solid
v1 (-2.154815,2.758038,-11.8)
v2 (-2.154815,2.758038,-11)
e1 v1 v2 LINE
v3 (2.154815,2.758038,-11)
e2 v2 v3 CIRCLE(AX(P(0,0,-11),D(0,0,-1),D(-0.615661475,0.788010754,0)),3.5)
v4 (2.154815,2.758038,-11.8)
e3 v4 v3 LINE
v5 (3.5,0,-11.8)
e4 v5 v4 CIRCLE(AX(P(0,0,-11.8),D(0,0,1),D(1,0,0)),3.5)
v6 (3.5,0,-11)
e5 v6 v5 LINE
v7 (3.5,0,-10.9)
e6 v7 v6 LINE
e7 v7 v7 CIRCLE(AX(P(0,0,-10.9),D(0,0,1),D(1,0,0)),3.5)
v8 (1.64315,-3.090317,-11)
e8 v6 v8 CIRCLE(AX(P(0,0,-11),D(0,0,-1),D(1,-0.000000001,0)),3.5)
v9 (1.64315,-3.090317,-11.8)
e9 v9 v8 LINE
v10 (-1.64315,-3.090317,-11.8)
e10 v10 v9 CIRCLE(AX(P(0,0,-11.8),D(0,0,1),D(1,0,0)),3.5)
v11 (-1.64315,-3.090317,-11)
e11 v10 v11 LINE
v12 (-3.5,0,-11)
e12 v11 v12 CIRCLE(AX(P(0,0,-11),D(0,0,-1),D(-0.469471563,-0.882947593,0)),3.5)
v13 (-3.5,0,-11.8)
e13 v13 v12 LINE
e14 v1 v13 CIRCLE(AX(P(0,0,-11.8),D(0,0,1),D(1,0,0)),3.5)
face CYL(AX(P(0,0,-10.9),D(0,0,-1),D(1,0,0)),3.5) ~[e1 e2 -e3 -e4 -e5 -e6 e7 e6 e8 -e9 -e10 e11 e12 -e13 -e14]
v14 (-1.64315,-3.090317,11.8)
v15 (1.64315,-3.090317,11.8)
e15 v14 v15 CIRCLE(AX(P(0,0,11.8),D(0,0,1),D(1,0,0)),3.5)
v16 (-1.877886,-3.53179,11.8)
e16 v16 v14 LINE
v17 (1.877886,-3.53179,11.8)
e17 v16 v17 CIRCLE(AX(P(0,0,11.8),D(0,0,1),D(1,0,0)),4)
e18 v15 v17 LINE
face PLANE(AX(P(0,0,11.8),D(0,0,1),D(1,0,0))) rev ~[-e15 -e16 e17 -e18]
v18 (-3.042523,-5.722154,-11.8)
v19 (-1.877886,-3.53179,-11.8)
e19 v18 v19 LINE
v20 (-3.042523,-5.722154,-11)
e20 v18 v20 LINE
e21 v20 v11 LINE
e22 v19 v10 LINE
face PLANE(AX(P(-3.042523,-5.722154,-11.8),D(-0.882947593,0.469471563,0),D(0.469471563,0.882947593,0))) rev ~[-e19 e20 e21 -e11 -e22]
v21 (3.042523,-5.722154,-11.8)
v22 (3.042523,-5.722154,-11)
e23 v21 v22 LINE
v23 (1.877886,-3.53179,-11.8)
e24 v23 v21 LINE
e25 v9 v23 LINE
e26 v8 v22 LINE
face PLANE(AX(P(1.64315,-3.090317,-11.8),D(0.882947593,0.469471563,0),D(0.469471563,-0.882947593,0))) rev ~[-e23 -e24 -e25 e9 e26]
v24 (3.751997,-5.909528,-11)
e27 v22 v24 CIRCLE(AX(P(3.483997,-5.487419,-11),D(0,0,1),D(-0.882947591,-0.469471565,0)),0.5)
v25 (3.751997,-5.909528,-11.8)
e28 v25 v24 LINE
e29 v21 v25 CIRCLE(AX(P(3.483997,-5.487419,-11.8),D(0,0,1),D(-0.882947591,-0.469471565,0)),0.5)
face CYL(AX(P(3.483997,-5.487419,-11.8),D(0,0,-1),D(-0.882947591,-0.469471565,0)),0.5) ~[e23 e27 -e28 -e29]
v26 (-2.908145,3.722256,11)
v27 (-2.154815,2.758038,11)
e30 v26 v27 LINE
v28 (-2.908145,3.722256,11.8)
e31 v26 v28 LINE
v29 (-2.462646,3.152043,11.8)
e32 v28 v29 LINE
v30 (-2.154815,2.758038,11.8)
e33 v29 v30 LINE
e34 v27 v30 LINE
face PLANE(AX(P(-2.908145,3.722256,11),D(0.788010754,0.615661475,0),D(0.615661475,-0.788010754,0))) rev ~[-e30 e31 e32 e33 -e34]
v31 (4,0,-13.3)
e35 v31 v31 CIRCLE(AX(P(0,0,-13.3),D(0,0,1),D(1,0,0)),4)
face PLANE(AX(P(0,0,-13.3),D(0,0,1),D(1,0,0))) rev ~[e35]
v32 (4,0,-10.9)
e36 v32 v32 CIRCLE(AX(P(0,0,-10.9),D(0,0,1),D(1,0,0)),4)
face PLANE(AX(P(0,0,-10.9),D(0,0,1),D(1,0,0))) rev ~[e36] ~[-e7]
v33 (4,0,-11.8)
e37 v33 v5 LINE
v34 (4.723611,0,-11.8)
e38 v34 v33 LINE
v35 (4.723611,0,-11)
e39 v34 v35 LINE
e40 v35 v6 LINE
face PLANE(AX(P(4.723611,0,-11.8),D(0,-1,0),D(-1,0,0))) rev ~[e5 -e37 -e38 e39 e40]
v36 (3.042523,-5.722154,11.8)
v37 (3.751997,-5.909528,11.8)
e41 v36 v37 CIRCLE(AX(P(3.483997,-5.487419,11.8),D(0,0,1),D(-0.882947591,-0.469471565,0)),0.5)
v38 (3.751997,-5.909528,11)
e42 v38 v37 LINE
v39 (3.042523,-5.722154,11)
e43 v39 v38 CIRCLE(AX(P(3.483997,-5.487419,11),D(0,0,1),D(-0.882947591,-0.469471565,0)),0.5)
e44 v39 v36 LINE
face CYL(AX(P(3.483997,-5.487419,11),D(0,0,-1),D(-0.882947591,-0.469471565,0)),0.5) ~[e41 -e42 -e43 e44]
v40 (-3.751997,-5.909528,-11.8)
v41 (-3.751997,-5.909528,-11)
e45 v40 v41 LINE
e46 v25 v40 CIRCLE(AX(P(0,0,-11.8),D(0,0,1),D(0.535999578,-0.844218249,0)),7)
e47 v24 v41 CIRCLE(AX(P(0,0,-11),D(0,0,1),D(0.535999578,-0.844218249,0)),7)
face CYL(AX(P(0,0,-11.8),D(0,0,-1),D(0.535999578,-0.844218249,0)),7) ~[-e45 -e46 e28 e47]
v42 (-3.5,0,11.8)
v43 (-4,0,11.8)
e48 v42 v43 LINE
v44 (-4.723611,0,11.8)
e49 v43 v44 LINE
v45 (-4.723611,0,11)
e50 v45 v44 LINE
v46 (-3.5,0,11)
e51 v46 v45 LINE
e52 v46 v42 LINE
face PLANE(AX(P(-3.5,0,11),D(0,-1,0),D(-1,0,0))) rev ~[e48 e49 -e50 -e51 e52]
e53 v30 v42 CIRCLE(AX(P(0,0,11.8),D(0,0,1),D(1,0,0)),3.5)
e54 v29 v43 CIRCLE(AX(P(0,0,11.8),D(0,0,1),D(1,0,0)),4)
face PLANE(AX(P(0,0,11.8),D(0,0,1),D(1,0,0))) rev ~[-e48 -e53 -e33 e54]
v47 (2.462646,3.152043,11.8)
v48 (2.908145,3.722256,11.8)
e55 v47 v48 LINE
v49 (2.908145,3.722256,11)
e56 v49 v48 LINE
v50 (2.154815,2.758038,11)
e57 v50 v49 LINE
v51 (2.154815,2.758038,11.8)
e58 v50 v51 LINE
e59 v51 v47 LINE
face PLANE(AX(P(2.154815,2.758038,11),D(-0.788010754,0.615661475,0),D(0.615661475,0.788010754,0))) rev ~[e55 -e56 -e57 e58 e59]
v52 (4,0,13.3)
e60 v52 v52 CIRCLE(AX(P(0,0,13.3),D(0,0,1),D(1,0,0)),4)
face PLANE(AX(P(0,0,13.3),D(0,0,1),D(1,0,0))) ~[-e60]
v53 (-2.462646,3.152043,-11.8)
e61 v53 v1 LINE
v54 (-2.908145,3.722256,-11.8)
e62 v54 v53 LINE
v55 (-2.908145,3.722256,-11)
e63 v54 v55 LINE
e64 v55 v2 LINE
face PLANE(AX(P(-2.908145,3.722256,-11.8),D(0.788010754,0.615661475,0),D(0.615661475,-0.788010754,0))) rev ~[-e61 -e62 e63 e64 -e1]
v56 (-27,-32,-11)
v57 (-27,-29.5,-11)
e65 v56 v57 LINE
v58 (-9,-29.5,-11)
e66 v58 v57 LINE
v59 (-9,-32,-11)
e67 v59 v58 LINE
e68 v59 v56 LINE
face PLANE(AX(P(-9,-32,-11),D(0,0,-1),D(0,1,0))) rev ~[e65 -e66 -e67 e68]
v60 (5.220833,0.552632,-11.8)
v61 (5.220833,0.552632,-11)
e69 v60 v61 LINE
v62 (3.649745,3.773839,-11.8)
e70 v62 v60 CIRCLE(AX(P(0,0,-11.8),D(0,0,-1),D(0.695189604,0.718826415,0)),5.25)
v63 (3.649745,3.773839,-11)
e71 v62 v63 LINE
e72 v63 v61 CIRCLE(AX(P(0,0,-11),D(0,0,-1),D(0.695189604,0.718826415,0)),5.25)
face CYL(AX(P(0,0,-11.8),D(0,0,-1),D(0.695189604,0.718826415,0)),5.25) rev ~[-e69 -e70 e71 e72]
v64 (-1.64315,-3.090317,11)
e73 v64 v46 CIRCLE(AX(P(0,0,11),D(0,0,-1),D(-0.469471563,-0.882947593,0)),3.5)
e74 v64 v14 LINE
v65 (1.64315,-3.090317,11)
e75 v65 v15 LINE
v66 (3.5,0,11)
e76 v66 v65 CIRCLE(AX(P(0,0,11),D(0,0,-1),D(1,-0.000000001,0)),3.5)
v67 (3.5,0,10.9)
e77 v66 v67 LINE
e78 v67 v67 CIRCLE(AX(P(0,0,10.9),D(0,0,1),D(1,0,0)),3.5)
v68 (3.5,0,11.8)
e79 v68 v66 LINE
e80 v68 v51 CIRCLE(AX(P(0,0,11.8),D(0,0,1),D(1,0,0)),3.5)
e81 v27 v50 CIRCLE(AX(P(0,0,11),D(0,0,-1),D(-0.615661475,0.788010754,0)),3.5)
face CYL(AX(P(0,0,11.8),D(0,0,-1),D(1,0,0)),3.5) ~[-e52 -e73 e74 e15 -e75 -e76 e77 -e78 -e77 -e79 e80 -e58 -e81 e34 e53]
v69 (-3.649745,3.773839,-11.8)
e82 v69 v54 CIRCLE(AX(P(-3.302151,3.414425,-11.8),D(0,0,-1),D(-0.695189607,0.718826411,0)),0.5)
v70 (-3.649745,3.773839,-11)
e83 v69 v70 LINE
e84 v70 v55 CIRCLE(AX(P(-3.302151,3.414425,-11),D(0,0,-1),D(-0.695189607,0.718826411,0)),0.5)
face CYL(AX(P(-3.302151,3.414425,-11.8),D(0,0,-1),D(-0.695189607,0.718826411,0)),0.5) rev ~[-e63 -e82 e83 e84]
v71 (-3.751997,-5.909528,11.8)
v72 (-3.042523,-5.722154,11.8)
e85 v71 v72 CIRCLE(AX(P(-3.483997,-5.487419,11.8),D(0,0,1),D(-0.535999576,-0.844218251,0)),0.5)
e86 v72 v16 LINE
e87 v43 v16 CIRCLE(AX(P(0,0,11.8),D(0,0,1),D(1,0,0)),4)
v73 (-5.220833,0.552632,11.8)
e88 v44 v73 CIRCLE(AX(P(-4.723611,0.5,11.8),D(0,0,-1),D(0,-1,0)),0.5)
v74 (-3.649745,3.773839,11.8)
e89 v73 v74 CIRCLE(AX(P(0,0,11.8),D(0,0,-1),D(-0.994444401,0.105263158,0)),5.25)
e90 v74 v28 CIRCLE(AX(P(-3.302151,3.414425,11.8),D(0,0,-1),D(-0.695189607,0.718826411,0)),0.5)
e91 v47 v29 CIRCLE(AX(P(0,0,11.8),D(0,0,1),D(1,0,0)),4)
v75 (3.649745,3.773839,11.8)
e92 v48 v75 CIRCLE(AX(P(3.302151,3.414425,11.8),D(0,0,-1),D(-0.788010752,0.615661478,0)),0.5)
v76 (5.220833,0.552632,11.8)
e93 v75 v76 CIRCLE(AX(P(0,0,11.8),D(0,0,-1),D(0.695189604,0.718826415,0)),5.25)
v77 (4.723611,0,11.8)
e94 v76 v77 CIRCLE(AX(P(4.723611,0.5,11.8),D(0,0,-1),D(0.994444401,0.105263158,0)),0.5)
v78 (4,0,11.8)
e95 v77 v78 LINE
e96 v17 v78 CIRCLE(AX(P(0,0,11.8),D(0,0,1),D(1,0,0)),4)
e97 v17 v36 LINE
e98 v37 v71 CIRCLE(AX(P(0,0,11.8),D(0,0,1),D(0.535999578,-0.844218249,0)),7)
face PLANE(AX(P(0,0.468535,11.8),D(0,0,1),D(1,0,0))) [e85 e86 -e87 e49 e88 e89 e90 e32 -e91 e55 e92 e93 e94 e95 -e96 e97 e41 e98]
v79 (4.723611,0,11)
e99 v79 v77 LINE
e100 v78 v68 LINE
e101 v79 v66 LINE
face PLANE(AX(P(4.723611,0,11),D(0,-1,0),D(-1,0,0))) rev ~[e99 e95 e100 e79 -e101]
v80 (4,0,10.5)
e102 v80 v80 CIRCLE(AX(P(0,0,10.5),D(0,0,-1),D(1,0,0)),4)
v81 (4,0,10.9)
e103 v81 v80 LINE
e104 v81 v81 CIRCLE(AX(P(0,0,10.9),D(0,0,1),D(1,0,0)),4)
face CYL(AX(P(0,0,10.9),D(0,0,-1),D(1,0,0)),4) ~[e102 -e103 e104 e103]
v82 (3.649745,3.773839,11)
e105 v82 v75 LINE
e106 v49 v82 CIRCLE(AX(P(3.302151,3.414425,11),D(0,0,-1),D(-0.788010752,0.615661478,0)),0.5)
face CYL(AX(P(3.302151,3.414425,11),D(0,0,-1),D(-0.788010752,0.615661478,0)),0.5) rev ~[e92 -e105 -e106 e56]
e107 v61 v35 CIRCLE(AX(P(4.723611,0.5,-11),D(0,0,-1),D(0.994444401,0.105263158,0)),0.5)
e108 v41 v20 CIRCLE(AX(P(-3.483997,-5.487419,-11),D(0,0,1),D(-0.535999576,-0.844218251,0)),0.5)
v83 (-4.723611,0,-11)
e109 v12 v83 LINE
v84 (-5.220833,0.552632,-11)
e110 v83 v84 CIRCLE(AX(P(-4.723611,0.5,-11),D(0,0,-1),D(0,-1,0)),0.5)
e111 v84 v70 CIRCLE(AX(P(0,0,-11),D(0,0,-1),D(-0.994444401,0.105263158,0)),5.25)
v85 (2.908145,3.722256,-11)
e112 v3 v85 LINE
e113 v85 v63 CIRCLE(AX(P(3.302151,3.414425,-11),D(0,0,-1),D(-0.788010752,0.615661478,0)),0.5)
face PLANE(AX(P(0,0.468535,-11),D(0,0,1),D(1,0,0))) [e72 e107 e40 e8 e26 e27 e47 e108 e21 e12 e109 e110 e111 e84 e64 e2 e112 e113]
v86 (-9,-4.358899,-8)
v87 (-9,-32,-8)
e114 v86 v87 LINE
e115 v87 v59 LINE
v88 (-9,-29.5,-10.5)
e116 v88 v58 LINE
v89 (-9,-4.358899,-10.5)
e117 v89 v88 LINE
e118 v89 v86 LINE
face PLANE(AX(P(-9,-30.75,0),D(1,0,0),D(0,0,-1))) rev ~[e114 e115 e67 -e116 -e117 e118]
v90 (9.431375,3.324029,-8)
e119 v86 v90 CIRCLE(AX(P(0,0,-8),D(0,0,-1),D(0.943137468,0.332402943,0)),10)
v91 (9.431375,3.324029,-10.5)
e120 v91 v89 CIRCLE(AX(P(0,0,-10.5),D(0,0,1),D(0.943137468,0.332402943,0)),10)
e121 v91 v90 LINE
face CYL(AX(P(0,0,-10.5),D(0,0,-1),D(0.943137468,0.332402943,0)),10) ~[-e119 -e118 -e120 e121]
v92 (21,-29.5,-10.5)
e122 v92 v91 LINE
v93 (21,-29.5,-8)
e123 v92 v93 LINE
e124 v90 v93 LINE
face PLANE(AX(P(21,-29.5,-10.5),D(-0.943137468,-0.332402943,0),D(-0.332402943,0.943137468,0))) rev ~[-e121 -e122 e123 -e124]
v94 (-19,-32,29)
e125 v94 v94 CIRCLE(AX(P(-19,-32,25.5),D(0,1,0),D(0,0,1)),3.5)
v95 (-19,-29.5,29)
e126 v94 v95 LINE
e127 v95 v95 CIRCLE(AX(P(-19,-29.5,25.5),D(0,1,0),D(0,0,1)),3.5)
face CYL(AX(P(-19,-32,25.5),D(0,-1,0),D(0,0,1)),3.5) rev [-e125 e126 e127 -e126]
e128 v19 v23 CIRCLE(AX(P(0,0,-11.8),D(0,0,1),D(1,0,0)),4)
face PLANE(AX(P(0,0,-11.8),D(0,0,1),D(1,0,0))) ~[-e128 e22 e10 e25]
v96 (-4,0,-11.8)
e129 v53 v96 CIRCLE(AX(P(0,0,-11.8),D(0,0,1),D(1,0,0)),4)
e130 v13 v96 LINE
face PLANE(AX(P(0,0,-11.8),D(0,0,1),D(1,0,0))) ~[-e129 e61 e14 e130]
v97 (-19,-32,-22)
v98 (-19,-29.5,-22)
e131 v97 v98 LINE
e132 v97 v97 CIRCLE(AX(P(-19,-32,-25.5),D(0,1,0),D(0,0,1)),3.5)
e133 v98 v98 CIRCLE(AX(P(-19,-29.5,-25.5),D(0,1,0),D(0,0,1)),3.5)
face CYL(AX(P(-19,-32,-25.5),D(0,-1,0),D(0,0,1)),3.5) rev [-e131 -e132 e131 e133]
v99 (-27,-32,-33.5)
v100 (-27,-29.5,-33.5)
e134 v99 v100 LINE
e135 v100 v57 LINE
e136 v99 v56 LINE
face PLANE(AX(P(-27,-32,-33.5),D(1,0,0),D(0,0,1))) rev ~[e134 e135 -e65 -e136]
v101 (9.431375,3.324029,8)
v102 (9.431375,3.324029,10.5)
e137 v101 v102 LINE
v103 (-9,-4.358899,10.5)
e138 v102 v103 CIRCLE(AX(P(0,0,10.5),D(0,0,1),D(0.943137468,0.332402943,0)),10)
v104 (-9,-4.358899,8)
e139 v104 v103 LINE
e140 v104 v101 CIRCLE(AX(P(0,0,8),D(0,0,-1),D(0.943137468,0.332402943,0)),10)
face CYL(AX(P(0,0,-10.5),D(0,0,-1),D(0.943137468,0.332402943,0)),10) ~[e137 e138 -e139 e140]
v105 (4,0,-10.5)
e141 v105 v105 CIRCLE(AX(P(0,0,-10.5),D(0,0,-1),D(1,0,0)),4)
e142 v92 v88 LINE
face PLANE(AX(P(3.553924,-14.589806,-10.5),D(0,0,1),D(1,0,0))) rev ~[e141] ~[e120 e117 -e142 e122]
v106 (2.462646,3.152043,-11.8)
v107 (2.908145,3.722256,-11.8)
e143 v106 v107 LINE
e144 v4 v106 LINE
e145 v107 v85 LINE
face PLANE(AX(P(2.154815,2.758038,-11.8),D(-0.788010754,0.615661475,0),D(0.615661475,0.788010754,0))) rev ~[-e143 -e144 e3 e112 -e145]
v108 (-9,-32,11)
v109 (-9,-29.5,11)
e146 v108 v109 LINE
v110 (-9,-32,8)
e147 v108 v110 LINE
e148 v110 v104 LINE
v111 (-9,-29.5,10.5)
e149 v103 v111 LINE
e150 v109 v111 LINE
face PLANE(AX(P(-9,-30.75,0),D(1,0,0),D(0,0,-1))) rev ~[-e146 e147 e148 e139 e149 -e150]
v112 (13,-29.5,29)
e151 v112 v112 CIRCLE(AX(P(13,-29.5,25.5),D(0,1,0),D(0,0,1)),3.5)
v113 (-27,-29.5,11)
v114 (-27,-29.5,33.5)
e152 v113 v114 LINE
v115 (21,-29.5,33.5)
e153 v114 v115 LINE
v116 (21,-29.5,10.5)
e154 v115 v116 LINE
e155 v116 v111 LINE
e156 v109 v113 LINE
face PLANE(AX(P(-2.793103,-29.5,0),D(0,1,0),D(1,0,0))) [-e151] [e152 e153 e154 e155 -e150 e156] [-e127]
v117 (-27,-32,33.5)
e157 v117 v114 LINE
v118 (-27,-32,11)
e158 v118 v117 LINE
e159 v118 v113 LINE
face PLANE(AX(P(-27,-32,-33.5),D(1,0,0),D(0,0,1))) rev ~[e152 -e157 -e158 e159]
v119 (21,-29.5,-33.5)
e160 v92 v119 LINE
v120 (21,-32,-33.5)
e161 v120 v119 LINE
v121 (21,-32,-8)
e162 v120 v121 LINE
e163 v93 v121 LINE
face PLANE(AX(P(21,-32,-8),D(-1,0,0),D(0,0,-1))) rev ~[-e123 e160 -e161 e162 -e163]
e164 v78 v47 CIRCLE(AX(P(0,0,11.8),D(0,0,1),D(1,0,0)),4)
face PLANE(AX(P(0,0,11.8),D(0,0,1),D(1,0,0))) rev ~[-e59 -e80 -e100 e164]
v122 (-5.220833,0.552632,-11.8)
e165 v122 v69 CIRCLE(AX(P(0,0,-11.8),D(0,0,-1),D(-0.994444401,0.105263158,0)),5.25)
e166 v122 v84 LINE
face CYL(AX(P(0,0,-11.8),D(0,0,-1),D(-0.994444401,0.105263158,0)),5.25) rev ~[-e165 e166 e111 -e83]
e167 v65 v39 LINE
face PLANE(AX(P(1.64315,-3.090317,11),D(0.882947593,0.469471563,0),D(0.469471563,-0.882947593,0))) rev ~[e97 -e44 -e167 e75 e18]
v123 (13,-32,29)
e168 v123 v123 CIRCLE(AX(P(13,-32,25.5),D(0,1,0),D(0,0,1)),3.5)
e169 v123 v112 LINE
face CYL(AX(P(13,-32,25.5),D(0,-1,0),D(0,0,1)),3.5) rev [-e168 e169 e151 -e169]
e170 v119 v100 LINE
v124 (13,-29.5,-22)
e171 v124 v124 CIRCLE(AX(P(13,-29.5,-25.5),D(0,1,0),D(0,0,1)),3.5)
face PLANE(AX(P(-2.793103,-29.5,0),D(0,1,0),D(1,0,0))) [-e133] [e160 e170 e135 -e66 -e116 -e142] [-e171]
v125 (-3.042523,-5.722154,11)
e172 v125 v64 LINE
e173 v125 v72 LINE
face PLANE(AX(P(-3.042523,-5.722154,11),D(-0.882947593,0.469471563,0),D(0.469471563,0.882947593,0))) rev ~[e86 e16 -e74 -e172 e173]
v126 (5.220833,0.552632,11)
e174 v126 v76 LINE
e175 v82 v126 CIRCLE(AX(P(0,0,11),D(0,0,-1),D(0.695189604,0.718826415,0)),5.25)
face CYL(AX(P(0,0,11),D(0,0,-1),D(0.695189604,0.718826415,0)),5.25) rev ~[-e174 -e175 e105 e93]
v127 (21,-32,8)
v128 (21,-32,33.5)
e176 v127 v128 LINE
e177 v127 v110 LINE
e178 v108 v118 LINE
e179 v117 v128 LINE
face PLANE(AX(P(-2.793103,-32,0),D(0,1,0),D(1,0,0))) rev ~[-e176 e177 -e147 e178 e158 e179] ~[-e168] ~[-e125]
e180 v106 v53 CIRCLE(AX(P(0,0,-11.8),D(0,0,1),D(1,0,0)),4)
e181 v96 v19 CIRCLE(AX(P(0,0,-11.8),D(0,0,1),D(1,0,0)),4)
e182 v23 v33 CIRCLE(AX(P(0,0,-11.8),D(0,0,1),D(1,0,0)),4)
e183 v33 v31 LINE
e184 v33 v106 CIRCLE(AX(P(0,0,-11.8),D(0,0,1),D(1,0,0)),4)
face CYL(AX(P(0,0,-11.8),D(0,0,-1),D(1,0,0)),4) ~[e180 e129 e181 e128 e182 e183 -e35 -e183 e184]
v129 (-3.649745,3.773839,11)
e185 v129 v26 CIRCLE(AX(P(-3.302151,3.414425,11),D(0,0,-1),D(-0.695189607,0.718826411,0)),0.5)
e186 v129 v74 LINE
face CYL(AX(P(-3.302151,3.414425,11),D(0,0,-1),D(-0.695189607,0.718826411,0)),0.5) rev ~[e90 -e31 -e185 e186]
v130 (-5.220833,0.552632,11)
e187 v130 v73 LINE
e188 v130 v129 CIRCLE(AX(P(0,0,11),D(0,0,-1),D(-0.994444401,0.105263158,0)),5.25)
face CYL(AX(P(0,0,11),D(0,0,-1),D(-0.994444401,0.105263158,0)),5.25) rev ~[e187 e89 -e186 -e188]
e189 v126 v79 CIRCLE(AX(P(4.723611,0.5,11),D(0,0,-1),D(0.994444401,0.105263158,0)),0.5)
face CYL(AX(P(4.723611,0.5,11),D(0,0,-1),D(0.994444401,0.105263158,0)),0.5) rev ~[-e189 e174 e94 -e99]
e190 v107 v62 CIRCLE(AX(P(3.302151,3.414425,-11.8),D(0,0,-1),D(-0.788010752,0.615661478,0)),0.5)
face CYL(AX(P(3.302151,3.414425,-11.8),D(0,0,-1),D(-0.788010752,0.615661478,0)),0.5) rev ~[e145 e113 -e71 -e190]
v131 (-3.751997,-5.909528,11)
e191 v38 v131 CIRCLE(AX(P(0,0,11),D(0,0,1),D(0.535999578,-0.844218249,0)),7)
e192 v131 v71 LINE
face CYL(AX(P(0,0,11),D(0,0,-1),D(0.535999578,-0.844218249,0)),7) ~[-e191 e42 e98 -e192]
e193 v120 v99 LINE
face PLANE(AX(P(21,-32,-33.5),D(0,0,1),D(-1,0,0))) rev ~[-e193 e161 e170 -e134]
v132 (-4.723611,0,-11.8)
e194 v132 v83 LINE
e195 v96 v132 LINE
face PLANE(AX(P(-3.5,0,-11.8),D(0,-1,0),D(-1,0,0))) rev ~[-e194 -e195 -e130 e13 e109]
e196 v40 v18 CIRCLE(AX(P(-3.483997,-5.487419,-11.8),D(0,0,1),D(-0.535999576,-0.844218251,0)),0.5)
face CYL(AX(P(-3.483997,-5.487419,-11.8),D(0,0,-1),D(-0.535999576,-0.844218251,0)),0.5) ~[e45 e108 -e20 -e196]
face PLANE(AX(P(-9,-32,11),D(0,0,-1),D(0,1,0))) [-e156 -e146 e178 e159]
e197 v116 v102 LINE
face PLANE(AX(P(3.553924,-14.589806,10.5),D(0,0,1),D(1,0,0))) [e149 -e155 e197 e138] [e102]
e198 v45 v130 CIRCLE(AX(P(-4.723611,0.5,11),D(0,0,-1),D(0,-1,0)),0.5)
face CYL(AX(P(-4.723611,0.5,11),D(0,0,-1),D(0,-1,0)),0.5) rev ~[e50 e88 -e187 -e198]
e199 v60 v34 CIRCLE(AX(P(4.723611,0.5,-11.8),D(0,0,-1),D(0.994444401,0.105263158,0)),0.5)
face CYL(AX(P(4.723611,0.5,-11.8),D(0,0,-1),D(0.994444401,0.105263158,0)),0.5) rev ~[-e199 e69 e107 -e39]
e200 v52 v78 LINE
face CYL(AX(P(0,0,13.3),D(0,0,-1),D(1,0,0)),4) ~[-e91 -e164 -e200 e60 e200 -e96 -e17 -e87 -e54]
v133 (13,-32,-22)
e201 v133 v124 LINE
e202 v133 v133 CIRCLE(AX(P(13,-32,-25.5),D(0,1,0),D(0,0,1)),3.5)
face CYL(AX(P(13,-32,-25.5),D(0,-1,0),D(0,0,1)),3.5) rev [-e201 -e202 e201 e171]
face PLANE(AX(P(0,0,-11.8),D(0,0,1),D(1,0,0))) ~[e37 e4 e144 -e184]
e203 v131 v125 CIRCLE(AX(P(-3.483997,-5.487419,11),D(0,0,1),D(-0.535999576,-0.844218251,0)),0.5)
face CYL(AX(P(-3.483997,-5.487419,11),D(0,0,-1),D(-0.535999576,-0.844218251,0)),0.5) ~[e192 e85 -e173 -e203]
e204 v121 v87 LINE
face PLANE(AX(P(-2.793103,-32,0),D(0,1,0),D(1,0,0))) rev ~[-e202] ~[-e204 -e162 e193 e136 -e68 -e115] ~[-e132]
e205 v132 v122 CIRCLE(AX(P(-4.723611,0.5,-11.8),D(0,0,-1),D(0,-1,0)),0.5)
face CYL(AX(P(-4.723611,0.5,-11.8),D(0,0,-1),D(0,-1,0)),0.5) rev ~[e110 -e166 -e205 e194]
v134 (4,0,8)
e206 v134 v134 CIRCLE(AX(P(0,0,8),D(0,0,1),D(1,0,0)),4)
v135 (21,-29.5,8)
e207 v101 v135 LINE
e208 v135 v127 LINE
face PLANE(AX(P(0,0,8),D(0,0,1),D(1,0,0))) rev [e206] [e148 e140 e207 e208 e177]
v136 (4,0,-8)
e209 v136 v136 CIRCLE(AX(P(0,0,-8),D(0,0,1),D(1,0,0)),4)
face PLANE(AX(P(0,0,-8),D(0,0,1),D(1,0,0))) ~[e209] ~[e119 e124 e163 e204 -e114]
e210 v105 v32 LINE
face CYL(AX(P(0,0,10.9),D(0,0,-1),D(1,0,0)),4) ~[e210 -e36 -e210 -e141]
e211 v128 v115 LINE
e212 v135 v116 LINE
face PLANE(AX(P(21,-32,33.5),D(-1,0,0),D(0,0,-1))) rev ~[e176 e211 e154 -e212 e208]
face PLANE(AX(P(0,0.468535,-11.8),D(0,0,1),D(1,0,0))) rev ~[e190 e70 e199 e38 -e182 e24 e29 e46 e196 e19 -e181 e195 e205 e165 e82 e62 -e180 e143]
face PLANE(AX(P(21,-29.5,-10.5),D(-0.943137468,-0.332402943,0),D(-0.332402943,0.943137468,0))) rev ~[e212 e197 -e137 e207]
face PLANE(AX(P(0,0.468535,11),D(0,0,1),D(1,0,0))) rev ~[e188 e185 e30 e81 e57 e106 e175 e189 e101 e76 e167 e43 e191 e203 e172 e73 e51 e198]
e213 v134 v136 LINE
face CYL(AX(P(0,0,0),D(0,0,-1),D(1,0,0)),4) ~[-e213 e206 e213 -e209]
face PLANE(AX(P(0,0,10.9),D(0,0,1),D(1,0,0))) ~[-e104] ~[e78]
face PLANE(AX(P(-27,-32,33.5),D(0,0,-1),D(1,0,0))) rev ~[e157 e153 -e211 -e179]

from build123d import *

# Parameters (mm, degrees)
EXTRUDE_1_DEPTH      = 10.5
EXTRUDE_1_DEPTH_BACK = 10.5
SKETCH_3_W           = 16
SKETCH_3_H           = 52
SKETCH_4_R           = 3.5
EXTRUDE_2_DEPTH      = 2.5
SKETCH_5_W           = 22
SKETCH_5_H           = 2.5
CUT_EXTRUDE_1_DEPTH  = 18
EXTRUDE_START        = -0.8
EXTRUDE_3_DEPTH      = 0.8
EXTRUDE_4_DEPTH      = 0.8


with BuildPart() as part:
    # 草图1 → 旋转1 (revolve)
    with BuildSketch(Plane(origin=(0, 0, 0), x_dir=(0, 0, -1), z_dir=(1, 0, 0))):
        Polygon((-13.3, 0), (-13.3, 4), (-11.8, 4), (-11.8, 3.5), (-10.9, 3.5), (-10.9, 4), (10.9, 4), (10.9, 3.5), (11.8, 3.5), (11.8, 4), (13.3, 4), (13.3, 0), align=None)
    revolve(axis=Axis((0, 0, -13.3), (0, 0, 1)))

    # 草图2 → 凸台-拉伸1 (add, two sides: drawn at the far end of the back side and taken through both)
    with BuildSketch(Plane.XY.offset(-EXTRUDE_1_DEPTH_BACK)):
        with BuildLine():
            Line((-9, -4.358898944), (-9, -32))
            Line((-9, -32), (21, -32))
            Line((21, -32), (21, -29.5))
            Line((21, -29.5), (9.431374679, 3.324029432))
            ThreePointArc((9.431374679, 3.324029432), (-3.84751454, 9.230202157), (-9, -4.358898944))
        make_face()
    extrude(amount=EXTRUDE_1_DEPTH + EXTRUDE_1_DEPTH_BACK)

    # 草图3 → 切除-旋转1 (revolve, cut)
    with BuildSketch(Plane(origin=(0, 0, 0), x_dir=(0, 0, -1), z_dir=(1, 0, 0))):
        with Locations((0, 30)):
            Rectangle(SKETCH_3_W, SKETCH_3_H)
    revolve(axis=Axis((0, 0, -10), (0, 0, 1)), mode=Mode.SUBTRACT)

    # 草图4 → 凸台-拉伸2 (add)
    with BuildSketch(Plane(origin=(0, -32, 0), x_dir=(1, 0, 0), z_dir=(0, 1, 0))):
        Polygon((-27, 33.5), (-27, -33.5), (21, -33.5), (21, -8), (-9, -8), (-9, 8), (21, 8), (21, 33.5), align=None)
        with Locations((13, 25.5)):
            Circle(SKETCH_4_R, mode=Mode.SUBTRACT)
        with Locations((13, -25.5)):
            Circle(SKETCH_4_R, mode=Mode.SUBTRACT)
        with Locations((-19, 25.5)):
            Circle(SKETCH_4_R, mode=Mode.SUBTRACT)
        with Locations((-19, -25.5)):
            Circle(SKETCH_4_R, mode=Mode.SUBTRACT)
    extrude(amount=EXTRUDE_2_DEPTH)

    # 草图5 → 切除-拉伸1 (cut)
    with BuildSketch(Plane(origin=(-9, 0, 0), x_dir=(0, 0, -1), z_dir=(1, 0, 0))):
        with Locations((0, -30.75)):
            Rectangle(SKETCH_5_W, SKETCH_5_H)
    extrude(amount=-CUT_EXTRUDE_1_DEPTH, mode=Mode.SUBTRACT)

    # 草图6 → 凸台-拉伸3 (add)
    with BuildSketch(Plane.XY.offset(11.8).offset(EXTRUDE_START)):
        with BuildLine():
            Line((-3.042523464, -5.7221544), (-1.64315047, -3.090316575))
            ThreePointArc((-1.64315047, -3.090316575), (-3.000085552, -1.802633262), (-3.5, 0))
            Line((-3.5, 0), (-4.723610907, 0))
            ThreePointArc((-4.723610907, 0), (-5.095306878, 0.165571973), (-5.220833108, 0.552631579))
            ThreePointArc((-5.220833108, 0.552631579), (-4.718668743, 2.301448521), (-3.64974544, 3.773838658))
            ThreePointArc((-3.64974544, 3.773838658), (-3.267456645, 3.913220327), (-2.90814526, 3.722256191))
            Line((-2.90814526, 3.722256191), (-2.154815164, 2.758037638))
            ThreePointArc((-2.154815164, 2.758037638), (0, 3.5), (2.154815164, 2.758037638))
            Line((2.154815164, 2.758037638), (2.90814526, 3.722256191))
            ThreePointArc((2.90814526, 3.722256191), (3.26745663, 3.913220326), (3.64974542, 3.773838678))
            ThreePointArc((3.64974542, 3.773838678), (4.718668737, 2.301448534), (5.220833108, 0.552631579))
            ThreePointArc((5.220833108, 0.552631579), (5.095306878, 0.165571973), (4.723610907, 0))
            Line((4.723610907, 0), (3.5, 0))
            ThreePointArc((3.5, 0), (3.000085552, -1.802633262), (1.64315047, -3.090316575))
            Line((1.64315047, -3.090316575), (3.042523464, -5.7221544))
            ThreePointArc((3.042523464, -5.7221544), (3.356323848, -5.970843379), (3.751997049, -5.909527743))
            ThreePointArc((3.751997049, -5.909527743), (0, 7), (-3.751997049, -5.909527743))
            ThreePointArc((-3.751997049, -5.909527743), (-3.356323848, -5.970843379), (-3.042523464, -5.7221544))
        make_face()
    extrude(amount=EXTRUDE_3_DEPTH)

    # 草图7 → 凸台-拉伸4 (add)
    with BuildSketch(Plane.XY.offset(-11.8)):
        with BuildLine():
            Line((-3.042523464, -5.7221544), (-1.64315047, -3.090316575))
            ThreePointArc((-1.64315047, -3.090316575), (-3.000085552, -1.802633262), (-3.5, 0))
            Line((-3.5, 0), (-4.723610907, 0))
            ThreePointArc((-4.723610907, 0), (-5.095306878, 0.165571973), (-5.220833108, 0.552631579))
            ThreePointArc((-5.220833108, 0.552631579), (-4.718668743, 2.301448521), (-3.64974544, 3.773838658))
            ThreePointArc((-3.64974544, 3.773838658), (-3.267456645, 3.913220327), (-2.90814526, 3.722256191))
            Line((-2.90814526, 3.722256191), (-2.154815164, 2.758037638))
            ThreePointArc((-2.154815164, 2.758037638), (0, 3.5), (2.154815164, 2.758037638))
            Line((2.154815164, 2.758037638), (2.90814526, 3.722256191))
            ThreePointArc((2.90814526, 3.722256191), (3.26745663, 3.913220326), (3.64974542, 3.773838678))
            ThreePointArc((3.64974542, 3.773838678), (4.718668737, 2.301448534), (5.220833108, 0.552631579))
            ThreePointArc((5.220833108, 0.552631579), (5.095306878, 0.165571973), (4.723610907, 0))
            Line((4.723610907, 0), (3.5, 0))
            ThreePointArc((3.5, 0), (3.000085552, -1.802633262), (1.64315047, -3.090316575))
            Line((1.64315047, -3.090316575), (3.042523464, -5.7221544))
            ThreePointArc((3.042523464, -5.7221544), (3.356323848, -5.970843379), (3.751997049, -5.909527743))
            ThreePointArc((3.751997049, -5.909527743), (0, 7), (-3.751997049, -5.909527743))
            ThreePointArc((-3.751997049, -5.909527743), (-3.356323848, -5.970843379), (-3.042523464, -5.7221544))
        make_face()
    extrude(amount=EXTRUDE_4_DEPTH)


solid = part.part
